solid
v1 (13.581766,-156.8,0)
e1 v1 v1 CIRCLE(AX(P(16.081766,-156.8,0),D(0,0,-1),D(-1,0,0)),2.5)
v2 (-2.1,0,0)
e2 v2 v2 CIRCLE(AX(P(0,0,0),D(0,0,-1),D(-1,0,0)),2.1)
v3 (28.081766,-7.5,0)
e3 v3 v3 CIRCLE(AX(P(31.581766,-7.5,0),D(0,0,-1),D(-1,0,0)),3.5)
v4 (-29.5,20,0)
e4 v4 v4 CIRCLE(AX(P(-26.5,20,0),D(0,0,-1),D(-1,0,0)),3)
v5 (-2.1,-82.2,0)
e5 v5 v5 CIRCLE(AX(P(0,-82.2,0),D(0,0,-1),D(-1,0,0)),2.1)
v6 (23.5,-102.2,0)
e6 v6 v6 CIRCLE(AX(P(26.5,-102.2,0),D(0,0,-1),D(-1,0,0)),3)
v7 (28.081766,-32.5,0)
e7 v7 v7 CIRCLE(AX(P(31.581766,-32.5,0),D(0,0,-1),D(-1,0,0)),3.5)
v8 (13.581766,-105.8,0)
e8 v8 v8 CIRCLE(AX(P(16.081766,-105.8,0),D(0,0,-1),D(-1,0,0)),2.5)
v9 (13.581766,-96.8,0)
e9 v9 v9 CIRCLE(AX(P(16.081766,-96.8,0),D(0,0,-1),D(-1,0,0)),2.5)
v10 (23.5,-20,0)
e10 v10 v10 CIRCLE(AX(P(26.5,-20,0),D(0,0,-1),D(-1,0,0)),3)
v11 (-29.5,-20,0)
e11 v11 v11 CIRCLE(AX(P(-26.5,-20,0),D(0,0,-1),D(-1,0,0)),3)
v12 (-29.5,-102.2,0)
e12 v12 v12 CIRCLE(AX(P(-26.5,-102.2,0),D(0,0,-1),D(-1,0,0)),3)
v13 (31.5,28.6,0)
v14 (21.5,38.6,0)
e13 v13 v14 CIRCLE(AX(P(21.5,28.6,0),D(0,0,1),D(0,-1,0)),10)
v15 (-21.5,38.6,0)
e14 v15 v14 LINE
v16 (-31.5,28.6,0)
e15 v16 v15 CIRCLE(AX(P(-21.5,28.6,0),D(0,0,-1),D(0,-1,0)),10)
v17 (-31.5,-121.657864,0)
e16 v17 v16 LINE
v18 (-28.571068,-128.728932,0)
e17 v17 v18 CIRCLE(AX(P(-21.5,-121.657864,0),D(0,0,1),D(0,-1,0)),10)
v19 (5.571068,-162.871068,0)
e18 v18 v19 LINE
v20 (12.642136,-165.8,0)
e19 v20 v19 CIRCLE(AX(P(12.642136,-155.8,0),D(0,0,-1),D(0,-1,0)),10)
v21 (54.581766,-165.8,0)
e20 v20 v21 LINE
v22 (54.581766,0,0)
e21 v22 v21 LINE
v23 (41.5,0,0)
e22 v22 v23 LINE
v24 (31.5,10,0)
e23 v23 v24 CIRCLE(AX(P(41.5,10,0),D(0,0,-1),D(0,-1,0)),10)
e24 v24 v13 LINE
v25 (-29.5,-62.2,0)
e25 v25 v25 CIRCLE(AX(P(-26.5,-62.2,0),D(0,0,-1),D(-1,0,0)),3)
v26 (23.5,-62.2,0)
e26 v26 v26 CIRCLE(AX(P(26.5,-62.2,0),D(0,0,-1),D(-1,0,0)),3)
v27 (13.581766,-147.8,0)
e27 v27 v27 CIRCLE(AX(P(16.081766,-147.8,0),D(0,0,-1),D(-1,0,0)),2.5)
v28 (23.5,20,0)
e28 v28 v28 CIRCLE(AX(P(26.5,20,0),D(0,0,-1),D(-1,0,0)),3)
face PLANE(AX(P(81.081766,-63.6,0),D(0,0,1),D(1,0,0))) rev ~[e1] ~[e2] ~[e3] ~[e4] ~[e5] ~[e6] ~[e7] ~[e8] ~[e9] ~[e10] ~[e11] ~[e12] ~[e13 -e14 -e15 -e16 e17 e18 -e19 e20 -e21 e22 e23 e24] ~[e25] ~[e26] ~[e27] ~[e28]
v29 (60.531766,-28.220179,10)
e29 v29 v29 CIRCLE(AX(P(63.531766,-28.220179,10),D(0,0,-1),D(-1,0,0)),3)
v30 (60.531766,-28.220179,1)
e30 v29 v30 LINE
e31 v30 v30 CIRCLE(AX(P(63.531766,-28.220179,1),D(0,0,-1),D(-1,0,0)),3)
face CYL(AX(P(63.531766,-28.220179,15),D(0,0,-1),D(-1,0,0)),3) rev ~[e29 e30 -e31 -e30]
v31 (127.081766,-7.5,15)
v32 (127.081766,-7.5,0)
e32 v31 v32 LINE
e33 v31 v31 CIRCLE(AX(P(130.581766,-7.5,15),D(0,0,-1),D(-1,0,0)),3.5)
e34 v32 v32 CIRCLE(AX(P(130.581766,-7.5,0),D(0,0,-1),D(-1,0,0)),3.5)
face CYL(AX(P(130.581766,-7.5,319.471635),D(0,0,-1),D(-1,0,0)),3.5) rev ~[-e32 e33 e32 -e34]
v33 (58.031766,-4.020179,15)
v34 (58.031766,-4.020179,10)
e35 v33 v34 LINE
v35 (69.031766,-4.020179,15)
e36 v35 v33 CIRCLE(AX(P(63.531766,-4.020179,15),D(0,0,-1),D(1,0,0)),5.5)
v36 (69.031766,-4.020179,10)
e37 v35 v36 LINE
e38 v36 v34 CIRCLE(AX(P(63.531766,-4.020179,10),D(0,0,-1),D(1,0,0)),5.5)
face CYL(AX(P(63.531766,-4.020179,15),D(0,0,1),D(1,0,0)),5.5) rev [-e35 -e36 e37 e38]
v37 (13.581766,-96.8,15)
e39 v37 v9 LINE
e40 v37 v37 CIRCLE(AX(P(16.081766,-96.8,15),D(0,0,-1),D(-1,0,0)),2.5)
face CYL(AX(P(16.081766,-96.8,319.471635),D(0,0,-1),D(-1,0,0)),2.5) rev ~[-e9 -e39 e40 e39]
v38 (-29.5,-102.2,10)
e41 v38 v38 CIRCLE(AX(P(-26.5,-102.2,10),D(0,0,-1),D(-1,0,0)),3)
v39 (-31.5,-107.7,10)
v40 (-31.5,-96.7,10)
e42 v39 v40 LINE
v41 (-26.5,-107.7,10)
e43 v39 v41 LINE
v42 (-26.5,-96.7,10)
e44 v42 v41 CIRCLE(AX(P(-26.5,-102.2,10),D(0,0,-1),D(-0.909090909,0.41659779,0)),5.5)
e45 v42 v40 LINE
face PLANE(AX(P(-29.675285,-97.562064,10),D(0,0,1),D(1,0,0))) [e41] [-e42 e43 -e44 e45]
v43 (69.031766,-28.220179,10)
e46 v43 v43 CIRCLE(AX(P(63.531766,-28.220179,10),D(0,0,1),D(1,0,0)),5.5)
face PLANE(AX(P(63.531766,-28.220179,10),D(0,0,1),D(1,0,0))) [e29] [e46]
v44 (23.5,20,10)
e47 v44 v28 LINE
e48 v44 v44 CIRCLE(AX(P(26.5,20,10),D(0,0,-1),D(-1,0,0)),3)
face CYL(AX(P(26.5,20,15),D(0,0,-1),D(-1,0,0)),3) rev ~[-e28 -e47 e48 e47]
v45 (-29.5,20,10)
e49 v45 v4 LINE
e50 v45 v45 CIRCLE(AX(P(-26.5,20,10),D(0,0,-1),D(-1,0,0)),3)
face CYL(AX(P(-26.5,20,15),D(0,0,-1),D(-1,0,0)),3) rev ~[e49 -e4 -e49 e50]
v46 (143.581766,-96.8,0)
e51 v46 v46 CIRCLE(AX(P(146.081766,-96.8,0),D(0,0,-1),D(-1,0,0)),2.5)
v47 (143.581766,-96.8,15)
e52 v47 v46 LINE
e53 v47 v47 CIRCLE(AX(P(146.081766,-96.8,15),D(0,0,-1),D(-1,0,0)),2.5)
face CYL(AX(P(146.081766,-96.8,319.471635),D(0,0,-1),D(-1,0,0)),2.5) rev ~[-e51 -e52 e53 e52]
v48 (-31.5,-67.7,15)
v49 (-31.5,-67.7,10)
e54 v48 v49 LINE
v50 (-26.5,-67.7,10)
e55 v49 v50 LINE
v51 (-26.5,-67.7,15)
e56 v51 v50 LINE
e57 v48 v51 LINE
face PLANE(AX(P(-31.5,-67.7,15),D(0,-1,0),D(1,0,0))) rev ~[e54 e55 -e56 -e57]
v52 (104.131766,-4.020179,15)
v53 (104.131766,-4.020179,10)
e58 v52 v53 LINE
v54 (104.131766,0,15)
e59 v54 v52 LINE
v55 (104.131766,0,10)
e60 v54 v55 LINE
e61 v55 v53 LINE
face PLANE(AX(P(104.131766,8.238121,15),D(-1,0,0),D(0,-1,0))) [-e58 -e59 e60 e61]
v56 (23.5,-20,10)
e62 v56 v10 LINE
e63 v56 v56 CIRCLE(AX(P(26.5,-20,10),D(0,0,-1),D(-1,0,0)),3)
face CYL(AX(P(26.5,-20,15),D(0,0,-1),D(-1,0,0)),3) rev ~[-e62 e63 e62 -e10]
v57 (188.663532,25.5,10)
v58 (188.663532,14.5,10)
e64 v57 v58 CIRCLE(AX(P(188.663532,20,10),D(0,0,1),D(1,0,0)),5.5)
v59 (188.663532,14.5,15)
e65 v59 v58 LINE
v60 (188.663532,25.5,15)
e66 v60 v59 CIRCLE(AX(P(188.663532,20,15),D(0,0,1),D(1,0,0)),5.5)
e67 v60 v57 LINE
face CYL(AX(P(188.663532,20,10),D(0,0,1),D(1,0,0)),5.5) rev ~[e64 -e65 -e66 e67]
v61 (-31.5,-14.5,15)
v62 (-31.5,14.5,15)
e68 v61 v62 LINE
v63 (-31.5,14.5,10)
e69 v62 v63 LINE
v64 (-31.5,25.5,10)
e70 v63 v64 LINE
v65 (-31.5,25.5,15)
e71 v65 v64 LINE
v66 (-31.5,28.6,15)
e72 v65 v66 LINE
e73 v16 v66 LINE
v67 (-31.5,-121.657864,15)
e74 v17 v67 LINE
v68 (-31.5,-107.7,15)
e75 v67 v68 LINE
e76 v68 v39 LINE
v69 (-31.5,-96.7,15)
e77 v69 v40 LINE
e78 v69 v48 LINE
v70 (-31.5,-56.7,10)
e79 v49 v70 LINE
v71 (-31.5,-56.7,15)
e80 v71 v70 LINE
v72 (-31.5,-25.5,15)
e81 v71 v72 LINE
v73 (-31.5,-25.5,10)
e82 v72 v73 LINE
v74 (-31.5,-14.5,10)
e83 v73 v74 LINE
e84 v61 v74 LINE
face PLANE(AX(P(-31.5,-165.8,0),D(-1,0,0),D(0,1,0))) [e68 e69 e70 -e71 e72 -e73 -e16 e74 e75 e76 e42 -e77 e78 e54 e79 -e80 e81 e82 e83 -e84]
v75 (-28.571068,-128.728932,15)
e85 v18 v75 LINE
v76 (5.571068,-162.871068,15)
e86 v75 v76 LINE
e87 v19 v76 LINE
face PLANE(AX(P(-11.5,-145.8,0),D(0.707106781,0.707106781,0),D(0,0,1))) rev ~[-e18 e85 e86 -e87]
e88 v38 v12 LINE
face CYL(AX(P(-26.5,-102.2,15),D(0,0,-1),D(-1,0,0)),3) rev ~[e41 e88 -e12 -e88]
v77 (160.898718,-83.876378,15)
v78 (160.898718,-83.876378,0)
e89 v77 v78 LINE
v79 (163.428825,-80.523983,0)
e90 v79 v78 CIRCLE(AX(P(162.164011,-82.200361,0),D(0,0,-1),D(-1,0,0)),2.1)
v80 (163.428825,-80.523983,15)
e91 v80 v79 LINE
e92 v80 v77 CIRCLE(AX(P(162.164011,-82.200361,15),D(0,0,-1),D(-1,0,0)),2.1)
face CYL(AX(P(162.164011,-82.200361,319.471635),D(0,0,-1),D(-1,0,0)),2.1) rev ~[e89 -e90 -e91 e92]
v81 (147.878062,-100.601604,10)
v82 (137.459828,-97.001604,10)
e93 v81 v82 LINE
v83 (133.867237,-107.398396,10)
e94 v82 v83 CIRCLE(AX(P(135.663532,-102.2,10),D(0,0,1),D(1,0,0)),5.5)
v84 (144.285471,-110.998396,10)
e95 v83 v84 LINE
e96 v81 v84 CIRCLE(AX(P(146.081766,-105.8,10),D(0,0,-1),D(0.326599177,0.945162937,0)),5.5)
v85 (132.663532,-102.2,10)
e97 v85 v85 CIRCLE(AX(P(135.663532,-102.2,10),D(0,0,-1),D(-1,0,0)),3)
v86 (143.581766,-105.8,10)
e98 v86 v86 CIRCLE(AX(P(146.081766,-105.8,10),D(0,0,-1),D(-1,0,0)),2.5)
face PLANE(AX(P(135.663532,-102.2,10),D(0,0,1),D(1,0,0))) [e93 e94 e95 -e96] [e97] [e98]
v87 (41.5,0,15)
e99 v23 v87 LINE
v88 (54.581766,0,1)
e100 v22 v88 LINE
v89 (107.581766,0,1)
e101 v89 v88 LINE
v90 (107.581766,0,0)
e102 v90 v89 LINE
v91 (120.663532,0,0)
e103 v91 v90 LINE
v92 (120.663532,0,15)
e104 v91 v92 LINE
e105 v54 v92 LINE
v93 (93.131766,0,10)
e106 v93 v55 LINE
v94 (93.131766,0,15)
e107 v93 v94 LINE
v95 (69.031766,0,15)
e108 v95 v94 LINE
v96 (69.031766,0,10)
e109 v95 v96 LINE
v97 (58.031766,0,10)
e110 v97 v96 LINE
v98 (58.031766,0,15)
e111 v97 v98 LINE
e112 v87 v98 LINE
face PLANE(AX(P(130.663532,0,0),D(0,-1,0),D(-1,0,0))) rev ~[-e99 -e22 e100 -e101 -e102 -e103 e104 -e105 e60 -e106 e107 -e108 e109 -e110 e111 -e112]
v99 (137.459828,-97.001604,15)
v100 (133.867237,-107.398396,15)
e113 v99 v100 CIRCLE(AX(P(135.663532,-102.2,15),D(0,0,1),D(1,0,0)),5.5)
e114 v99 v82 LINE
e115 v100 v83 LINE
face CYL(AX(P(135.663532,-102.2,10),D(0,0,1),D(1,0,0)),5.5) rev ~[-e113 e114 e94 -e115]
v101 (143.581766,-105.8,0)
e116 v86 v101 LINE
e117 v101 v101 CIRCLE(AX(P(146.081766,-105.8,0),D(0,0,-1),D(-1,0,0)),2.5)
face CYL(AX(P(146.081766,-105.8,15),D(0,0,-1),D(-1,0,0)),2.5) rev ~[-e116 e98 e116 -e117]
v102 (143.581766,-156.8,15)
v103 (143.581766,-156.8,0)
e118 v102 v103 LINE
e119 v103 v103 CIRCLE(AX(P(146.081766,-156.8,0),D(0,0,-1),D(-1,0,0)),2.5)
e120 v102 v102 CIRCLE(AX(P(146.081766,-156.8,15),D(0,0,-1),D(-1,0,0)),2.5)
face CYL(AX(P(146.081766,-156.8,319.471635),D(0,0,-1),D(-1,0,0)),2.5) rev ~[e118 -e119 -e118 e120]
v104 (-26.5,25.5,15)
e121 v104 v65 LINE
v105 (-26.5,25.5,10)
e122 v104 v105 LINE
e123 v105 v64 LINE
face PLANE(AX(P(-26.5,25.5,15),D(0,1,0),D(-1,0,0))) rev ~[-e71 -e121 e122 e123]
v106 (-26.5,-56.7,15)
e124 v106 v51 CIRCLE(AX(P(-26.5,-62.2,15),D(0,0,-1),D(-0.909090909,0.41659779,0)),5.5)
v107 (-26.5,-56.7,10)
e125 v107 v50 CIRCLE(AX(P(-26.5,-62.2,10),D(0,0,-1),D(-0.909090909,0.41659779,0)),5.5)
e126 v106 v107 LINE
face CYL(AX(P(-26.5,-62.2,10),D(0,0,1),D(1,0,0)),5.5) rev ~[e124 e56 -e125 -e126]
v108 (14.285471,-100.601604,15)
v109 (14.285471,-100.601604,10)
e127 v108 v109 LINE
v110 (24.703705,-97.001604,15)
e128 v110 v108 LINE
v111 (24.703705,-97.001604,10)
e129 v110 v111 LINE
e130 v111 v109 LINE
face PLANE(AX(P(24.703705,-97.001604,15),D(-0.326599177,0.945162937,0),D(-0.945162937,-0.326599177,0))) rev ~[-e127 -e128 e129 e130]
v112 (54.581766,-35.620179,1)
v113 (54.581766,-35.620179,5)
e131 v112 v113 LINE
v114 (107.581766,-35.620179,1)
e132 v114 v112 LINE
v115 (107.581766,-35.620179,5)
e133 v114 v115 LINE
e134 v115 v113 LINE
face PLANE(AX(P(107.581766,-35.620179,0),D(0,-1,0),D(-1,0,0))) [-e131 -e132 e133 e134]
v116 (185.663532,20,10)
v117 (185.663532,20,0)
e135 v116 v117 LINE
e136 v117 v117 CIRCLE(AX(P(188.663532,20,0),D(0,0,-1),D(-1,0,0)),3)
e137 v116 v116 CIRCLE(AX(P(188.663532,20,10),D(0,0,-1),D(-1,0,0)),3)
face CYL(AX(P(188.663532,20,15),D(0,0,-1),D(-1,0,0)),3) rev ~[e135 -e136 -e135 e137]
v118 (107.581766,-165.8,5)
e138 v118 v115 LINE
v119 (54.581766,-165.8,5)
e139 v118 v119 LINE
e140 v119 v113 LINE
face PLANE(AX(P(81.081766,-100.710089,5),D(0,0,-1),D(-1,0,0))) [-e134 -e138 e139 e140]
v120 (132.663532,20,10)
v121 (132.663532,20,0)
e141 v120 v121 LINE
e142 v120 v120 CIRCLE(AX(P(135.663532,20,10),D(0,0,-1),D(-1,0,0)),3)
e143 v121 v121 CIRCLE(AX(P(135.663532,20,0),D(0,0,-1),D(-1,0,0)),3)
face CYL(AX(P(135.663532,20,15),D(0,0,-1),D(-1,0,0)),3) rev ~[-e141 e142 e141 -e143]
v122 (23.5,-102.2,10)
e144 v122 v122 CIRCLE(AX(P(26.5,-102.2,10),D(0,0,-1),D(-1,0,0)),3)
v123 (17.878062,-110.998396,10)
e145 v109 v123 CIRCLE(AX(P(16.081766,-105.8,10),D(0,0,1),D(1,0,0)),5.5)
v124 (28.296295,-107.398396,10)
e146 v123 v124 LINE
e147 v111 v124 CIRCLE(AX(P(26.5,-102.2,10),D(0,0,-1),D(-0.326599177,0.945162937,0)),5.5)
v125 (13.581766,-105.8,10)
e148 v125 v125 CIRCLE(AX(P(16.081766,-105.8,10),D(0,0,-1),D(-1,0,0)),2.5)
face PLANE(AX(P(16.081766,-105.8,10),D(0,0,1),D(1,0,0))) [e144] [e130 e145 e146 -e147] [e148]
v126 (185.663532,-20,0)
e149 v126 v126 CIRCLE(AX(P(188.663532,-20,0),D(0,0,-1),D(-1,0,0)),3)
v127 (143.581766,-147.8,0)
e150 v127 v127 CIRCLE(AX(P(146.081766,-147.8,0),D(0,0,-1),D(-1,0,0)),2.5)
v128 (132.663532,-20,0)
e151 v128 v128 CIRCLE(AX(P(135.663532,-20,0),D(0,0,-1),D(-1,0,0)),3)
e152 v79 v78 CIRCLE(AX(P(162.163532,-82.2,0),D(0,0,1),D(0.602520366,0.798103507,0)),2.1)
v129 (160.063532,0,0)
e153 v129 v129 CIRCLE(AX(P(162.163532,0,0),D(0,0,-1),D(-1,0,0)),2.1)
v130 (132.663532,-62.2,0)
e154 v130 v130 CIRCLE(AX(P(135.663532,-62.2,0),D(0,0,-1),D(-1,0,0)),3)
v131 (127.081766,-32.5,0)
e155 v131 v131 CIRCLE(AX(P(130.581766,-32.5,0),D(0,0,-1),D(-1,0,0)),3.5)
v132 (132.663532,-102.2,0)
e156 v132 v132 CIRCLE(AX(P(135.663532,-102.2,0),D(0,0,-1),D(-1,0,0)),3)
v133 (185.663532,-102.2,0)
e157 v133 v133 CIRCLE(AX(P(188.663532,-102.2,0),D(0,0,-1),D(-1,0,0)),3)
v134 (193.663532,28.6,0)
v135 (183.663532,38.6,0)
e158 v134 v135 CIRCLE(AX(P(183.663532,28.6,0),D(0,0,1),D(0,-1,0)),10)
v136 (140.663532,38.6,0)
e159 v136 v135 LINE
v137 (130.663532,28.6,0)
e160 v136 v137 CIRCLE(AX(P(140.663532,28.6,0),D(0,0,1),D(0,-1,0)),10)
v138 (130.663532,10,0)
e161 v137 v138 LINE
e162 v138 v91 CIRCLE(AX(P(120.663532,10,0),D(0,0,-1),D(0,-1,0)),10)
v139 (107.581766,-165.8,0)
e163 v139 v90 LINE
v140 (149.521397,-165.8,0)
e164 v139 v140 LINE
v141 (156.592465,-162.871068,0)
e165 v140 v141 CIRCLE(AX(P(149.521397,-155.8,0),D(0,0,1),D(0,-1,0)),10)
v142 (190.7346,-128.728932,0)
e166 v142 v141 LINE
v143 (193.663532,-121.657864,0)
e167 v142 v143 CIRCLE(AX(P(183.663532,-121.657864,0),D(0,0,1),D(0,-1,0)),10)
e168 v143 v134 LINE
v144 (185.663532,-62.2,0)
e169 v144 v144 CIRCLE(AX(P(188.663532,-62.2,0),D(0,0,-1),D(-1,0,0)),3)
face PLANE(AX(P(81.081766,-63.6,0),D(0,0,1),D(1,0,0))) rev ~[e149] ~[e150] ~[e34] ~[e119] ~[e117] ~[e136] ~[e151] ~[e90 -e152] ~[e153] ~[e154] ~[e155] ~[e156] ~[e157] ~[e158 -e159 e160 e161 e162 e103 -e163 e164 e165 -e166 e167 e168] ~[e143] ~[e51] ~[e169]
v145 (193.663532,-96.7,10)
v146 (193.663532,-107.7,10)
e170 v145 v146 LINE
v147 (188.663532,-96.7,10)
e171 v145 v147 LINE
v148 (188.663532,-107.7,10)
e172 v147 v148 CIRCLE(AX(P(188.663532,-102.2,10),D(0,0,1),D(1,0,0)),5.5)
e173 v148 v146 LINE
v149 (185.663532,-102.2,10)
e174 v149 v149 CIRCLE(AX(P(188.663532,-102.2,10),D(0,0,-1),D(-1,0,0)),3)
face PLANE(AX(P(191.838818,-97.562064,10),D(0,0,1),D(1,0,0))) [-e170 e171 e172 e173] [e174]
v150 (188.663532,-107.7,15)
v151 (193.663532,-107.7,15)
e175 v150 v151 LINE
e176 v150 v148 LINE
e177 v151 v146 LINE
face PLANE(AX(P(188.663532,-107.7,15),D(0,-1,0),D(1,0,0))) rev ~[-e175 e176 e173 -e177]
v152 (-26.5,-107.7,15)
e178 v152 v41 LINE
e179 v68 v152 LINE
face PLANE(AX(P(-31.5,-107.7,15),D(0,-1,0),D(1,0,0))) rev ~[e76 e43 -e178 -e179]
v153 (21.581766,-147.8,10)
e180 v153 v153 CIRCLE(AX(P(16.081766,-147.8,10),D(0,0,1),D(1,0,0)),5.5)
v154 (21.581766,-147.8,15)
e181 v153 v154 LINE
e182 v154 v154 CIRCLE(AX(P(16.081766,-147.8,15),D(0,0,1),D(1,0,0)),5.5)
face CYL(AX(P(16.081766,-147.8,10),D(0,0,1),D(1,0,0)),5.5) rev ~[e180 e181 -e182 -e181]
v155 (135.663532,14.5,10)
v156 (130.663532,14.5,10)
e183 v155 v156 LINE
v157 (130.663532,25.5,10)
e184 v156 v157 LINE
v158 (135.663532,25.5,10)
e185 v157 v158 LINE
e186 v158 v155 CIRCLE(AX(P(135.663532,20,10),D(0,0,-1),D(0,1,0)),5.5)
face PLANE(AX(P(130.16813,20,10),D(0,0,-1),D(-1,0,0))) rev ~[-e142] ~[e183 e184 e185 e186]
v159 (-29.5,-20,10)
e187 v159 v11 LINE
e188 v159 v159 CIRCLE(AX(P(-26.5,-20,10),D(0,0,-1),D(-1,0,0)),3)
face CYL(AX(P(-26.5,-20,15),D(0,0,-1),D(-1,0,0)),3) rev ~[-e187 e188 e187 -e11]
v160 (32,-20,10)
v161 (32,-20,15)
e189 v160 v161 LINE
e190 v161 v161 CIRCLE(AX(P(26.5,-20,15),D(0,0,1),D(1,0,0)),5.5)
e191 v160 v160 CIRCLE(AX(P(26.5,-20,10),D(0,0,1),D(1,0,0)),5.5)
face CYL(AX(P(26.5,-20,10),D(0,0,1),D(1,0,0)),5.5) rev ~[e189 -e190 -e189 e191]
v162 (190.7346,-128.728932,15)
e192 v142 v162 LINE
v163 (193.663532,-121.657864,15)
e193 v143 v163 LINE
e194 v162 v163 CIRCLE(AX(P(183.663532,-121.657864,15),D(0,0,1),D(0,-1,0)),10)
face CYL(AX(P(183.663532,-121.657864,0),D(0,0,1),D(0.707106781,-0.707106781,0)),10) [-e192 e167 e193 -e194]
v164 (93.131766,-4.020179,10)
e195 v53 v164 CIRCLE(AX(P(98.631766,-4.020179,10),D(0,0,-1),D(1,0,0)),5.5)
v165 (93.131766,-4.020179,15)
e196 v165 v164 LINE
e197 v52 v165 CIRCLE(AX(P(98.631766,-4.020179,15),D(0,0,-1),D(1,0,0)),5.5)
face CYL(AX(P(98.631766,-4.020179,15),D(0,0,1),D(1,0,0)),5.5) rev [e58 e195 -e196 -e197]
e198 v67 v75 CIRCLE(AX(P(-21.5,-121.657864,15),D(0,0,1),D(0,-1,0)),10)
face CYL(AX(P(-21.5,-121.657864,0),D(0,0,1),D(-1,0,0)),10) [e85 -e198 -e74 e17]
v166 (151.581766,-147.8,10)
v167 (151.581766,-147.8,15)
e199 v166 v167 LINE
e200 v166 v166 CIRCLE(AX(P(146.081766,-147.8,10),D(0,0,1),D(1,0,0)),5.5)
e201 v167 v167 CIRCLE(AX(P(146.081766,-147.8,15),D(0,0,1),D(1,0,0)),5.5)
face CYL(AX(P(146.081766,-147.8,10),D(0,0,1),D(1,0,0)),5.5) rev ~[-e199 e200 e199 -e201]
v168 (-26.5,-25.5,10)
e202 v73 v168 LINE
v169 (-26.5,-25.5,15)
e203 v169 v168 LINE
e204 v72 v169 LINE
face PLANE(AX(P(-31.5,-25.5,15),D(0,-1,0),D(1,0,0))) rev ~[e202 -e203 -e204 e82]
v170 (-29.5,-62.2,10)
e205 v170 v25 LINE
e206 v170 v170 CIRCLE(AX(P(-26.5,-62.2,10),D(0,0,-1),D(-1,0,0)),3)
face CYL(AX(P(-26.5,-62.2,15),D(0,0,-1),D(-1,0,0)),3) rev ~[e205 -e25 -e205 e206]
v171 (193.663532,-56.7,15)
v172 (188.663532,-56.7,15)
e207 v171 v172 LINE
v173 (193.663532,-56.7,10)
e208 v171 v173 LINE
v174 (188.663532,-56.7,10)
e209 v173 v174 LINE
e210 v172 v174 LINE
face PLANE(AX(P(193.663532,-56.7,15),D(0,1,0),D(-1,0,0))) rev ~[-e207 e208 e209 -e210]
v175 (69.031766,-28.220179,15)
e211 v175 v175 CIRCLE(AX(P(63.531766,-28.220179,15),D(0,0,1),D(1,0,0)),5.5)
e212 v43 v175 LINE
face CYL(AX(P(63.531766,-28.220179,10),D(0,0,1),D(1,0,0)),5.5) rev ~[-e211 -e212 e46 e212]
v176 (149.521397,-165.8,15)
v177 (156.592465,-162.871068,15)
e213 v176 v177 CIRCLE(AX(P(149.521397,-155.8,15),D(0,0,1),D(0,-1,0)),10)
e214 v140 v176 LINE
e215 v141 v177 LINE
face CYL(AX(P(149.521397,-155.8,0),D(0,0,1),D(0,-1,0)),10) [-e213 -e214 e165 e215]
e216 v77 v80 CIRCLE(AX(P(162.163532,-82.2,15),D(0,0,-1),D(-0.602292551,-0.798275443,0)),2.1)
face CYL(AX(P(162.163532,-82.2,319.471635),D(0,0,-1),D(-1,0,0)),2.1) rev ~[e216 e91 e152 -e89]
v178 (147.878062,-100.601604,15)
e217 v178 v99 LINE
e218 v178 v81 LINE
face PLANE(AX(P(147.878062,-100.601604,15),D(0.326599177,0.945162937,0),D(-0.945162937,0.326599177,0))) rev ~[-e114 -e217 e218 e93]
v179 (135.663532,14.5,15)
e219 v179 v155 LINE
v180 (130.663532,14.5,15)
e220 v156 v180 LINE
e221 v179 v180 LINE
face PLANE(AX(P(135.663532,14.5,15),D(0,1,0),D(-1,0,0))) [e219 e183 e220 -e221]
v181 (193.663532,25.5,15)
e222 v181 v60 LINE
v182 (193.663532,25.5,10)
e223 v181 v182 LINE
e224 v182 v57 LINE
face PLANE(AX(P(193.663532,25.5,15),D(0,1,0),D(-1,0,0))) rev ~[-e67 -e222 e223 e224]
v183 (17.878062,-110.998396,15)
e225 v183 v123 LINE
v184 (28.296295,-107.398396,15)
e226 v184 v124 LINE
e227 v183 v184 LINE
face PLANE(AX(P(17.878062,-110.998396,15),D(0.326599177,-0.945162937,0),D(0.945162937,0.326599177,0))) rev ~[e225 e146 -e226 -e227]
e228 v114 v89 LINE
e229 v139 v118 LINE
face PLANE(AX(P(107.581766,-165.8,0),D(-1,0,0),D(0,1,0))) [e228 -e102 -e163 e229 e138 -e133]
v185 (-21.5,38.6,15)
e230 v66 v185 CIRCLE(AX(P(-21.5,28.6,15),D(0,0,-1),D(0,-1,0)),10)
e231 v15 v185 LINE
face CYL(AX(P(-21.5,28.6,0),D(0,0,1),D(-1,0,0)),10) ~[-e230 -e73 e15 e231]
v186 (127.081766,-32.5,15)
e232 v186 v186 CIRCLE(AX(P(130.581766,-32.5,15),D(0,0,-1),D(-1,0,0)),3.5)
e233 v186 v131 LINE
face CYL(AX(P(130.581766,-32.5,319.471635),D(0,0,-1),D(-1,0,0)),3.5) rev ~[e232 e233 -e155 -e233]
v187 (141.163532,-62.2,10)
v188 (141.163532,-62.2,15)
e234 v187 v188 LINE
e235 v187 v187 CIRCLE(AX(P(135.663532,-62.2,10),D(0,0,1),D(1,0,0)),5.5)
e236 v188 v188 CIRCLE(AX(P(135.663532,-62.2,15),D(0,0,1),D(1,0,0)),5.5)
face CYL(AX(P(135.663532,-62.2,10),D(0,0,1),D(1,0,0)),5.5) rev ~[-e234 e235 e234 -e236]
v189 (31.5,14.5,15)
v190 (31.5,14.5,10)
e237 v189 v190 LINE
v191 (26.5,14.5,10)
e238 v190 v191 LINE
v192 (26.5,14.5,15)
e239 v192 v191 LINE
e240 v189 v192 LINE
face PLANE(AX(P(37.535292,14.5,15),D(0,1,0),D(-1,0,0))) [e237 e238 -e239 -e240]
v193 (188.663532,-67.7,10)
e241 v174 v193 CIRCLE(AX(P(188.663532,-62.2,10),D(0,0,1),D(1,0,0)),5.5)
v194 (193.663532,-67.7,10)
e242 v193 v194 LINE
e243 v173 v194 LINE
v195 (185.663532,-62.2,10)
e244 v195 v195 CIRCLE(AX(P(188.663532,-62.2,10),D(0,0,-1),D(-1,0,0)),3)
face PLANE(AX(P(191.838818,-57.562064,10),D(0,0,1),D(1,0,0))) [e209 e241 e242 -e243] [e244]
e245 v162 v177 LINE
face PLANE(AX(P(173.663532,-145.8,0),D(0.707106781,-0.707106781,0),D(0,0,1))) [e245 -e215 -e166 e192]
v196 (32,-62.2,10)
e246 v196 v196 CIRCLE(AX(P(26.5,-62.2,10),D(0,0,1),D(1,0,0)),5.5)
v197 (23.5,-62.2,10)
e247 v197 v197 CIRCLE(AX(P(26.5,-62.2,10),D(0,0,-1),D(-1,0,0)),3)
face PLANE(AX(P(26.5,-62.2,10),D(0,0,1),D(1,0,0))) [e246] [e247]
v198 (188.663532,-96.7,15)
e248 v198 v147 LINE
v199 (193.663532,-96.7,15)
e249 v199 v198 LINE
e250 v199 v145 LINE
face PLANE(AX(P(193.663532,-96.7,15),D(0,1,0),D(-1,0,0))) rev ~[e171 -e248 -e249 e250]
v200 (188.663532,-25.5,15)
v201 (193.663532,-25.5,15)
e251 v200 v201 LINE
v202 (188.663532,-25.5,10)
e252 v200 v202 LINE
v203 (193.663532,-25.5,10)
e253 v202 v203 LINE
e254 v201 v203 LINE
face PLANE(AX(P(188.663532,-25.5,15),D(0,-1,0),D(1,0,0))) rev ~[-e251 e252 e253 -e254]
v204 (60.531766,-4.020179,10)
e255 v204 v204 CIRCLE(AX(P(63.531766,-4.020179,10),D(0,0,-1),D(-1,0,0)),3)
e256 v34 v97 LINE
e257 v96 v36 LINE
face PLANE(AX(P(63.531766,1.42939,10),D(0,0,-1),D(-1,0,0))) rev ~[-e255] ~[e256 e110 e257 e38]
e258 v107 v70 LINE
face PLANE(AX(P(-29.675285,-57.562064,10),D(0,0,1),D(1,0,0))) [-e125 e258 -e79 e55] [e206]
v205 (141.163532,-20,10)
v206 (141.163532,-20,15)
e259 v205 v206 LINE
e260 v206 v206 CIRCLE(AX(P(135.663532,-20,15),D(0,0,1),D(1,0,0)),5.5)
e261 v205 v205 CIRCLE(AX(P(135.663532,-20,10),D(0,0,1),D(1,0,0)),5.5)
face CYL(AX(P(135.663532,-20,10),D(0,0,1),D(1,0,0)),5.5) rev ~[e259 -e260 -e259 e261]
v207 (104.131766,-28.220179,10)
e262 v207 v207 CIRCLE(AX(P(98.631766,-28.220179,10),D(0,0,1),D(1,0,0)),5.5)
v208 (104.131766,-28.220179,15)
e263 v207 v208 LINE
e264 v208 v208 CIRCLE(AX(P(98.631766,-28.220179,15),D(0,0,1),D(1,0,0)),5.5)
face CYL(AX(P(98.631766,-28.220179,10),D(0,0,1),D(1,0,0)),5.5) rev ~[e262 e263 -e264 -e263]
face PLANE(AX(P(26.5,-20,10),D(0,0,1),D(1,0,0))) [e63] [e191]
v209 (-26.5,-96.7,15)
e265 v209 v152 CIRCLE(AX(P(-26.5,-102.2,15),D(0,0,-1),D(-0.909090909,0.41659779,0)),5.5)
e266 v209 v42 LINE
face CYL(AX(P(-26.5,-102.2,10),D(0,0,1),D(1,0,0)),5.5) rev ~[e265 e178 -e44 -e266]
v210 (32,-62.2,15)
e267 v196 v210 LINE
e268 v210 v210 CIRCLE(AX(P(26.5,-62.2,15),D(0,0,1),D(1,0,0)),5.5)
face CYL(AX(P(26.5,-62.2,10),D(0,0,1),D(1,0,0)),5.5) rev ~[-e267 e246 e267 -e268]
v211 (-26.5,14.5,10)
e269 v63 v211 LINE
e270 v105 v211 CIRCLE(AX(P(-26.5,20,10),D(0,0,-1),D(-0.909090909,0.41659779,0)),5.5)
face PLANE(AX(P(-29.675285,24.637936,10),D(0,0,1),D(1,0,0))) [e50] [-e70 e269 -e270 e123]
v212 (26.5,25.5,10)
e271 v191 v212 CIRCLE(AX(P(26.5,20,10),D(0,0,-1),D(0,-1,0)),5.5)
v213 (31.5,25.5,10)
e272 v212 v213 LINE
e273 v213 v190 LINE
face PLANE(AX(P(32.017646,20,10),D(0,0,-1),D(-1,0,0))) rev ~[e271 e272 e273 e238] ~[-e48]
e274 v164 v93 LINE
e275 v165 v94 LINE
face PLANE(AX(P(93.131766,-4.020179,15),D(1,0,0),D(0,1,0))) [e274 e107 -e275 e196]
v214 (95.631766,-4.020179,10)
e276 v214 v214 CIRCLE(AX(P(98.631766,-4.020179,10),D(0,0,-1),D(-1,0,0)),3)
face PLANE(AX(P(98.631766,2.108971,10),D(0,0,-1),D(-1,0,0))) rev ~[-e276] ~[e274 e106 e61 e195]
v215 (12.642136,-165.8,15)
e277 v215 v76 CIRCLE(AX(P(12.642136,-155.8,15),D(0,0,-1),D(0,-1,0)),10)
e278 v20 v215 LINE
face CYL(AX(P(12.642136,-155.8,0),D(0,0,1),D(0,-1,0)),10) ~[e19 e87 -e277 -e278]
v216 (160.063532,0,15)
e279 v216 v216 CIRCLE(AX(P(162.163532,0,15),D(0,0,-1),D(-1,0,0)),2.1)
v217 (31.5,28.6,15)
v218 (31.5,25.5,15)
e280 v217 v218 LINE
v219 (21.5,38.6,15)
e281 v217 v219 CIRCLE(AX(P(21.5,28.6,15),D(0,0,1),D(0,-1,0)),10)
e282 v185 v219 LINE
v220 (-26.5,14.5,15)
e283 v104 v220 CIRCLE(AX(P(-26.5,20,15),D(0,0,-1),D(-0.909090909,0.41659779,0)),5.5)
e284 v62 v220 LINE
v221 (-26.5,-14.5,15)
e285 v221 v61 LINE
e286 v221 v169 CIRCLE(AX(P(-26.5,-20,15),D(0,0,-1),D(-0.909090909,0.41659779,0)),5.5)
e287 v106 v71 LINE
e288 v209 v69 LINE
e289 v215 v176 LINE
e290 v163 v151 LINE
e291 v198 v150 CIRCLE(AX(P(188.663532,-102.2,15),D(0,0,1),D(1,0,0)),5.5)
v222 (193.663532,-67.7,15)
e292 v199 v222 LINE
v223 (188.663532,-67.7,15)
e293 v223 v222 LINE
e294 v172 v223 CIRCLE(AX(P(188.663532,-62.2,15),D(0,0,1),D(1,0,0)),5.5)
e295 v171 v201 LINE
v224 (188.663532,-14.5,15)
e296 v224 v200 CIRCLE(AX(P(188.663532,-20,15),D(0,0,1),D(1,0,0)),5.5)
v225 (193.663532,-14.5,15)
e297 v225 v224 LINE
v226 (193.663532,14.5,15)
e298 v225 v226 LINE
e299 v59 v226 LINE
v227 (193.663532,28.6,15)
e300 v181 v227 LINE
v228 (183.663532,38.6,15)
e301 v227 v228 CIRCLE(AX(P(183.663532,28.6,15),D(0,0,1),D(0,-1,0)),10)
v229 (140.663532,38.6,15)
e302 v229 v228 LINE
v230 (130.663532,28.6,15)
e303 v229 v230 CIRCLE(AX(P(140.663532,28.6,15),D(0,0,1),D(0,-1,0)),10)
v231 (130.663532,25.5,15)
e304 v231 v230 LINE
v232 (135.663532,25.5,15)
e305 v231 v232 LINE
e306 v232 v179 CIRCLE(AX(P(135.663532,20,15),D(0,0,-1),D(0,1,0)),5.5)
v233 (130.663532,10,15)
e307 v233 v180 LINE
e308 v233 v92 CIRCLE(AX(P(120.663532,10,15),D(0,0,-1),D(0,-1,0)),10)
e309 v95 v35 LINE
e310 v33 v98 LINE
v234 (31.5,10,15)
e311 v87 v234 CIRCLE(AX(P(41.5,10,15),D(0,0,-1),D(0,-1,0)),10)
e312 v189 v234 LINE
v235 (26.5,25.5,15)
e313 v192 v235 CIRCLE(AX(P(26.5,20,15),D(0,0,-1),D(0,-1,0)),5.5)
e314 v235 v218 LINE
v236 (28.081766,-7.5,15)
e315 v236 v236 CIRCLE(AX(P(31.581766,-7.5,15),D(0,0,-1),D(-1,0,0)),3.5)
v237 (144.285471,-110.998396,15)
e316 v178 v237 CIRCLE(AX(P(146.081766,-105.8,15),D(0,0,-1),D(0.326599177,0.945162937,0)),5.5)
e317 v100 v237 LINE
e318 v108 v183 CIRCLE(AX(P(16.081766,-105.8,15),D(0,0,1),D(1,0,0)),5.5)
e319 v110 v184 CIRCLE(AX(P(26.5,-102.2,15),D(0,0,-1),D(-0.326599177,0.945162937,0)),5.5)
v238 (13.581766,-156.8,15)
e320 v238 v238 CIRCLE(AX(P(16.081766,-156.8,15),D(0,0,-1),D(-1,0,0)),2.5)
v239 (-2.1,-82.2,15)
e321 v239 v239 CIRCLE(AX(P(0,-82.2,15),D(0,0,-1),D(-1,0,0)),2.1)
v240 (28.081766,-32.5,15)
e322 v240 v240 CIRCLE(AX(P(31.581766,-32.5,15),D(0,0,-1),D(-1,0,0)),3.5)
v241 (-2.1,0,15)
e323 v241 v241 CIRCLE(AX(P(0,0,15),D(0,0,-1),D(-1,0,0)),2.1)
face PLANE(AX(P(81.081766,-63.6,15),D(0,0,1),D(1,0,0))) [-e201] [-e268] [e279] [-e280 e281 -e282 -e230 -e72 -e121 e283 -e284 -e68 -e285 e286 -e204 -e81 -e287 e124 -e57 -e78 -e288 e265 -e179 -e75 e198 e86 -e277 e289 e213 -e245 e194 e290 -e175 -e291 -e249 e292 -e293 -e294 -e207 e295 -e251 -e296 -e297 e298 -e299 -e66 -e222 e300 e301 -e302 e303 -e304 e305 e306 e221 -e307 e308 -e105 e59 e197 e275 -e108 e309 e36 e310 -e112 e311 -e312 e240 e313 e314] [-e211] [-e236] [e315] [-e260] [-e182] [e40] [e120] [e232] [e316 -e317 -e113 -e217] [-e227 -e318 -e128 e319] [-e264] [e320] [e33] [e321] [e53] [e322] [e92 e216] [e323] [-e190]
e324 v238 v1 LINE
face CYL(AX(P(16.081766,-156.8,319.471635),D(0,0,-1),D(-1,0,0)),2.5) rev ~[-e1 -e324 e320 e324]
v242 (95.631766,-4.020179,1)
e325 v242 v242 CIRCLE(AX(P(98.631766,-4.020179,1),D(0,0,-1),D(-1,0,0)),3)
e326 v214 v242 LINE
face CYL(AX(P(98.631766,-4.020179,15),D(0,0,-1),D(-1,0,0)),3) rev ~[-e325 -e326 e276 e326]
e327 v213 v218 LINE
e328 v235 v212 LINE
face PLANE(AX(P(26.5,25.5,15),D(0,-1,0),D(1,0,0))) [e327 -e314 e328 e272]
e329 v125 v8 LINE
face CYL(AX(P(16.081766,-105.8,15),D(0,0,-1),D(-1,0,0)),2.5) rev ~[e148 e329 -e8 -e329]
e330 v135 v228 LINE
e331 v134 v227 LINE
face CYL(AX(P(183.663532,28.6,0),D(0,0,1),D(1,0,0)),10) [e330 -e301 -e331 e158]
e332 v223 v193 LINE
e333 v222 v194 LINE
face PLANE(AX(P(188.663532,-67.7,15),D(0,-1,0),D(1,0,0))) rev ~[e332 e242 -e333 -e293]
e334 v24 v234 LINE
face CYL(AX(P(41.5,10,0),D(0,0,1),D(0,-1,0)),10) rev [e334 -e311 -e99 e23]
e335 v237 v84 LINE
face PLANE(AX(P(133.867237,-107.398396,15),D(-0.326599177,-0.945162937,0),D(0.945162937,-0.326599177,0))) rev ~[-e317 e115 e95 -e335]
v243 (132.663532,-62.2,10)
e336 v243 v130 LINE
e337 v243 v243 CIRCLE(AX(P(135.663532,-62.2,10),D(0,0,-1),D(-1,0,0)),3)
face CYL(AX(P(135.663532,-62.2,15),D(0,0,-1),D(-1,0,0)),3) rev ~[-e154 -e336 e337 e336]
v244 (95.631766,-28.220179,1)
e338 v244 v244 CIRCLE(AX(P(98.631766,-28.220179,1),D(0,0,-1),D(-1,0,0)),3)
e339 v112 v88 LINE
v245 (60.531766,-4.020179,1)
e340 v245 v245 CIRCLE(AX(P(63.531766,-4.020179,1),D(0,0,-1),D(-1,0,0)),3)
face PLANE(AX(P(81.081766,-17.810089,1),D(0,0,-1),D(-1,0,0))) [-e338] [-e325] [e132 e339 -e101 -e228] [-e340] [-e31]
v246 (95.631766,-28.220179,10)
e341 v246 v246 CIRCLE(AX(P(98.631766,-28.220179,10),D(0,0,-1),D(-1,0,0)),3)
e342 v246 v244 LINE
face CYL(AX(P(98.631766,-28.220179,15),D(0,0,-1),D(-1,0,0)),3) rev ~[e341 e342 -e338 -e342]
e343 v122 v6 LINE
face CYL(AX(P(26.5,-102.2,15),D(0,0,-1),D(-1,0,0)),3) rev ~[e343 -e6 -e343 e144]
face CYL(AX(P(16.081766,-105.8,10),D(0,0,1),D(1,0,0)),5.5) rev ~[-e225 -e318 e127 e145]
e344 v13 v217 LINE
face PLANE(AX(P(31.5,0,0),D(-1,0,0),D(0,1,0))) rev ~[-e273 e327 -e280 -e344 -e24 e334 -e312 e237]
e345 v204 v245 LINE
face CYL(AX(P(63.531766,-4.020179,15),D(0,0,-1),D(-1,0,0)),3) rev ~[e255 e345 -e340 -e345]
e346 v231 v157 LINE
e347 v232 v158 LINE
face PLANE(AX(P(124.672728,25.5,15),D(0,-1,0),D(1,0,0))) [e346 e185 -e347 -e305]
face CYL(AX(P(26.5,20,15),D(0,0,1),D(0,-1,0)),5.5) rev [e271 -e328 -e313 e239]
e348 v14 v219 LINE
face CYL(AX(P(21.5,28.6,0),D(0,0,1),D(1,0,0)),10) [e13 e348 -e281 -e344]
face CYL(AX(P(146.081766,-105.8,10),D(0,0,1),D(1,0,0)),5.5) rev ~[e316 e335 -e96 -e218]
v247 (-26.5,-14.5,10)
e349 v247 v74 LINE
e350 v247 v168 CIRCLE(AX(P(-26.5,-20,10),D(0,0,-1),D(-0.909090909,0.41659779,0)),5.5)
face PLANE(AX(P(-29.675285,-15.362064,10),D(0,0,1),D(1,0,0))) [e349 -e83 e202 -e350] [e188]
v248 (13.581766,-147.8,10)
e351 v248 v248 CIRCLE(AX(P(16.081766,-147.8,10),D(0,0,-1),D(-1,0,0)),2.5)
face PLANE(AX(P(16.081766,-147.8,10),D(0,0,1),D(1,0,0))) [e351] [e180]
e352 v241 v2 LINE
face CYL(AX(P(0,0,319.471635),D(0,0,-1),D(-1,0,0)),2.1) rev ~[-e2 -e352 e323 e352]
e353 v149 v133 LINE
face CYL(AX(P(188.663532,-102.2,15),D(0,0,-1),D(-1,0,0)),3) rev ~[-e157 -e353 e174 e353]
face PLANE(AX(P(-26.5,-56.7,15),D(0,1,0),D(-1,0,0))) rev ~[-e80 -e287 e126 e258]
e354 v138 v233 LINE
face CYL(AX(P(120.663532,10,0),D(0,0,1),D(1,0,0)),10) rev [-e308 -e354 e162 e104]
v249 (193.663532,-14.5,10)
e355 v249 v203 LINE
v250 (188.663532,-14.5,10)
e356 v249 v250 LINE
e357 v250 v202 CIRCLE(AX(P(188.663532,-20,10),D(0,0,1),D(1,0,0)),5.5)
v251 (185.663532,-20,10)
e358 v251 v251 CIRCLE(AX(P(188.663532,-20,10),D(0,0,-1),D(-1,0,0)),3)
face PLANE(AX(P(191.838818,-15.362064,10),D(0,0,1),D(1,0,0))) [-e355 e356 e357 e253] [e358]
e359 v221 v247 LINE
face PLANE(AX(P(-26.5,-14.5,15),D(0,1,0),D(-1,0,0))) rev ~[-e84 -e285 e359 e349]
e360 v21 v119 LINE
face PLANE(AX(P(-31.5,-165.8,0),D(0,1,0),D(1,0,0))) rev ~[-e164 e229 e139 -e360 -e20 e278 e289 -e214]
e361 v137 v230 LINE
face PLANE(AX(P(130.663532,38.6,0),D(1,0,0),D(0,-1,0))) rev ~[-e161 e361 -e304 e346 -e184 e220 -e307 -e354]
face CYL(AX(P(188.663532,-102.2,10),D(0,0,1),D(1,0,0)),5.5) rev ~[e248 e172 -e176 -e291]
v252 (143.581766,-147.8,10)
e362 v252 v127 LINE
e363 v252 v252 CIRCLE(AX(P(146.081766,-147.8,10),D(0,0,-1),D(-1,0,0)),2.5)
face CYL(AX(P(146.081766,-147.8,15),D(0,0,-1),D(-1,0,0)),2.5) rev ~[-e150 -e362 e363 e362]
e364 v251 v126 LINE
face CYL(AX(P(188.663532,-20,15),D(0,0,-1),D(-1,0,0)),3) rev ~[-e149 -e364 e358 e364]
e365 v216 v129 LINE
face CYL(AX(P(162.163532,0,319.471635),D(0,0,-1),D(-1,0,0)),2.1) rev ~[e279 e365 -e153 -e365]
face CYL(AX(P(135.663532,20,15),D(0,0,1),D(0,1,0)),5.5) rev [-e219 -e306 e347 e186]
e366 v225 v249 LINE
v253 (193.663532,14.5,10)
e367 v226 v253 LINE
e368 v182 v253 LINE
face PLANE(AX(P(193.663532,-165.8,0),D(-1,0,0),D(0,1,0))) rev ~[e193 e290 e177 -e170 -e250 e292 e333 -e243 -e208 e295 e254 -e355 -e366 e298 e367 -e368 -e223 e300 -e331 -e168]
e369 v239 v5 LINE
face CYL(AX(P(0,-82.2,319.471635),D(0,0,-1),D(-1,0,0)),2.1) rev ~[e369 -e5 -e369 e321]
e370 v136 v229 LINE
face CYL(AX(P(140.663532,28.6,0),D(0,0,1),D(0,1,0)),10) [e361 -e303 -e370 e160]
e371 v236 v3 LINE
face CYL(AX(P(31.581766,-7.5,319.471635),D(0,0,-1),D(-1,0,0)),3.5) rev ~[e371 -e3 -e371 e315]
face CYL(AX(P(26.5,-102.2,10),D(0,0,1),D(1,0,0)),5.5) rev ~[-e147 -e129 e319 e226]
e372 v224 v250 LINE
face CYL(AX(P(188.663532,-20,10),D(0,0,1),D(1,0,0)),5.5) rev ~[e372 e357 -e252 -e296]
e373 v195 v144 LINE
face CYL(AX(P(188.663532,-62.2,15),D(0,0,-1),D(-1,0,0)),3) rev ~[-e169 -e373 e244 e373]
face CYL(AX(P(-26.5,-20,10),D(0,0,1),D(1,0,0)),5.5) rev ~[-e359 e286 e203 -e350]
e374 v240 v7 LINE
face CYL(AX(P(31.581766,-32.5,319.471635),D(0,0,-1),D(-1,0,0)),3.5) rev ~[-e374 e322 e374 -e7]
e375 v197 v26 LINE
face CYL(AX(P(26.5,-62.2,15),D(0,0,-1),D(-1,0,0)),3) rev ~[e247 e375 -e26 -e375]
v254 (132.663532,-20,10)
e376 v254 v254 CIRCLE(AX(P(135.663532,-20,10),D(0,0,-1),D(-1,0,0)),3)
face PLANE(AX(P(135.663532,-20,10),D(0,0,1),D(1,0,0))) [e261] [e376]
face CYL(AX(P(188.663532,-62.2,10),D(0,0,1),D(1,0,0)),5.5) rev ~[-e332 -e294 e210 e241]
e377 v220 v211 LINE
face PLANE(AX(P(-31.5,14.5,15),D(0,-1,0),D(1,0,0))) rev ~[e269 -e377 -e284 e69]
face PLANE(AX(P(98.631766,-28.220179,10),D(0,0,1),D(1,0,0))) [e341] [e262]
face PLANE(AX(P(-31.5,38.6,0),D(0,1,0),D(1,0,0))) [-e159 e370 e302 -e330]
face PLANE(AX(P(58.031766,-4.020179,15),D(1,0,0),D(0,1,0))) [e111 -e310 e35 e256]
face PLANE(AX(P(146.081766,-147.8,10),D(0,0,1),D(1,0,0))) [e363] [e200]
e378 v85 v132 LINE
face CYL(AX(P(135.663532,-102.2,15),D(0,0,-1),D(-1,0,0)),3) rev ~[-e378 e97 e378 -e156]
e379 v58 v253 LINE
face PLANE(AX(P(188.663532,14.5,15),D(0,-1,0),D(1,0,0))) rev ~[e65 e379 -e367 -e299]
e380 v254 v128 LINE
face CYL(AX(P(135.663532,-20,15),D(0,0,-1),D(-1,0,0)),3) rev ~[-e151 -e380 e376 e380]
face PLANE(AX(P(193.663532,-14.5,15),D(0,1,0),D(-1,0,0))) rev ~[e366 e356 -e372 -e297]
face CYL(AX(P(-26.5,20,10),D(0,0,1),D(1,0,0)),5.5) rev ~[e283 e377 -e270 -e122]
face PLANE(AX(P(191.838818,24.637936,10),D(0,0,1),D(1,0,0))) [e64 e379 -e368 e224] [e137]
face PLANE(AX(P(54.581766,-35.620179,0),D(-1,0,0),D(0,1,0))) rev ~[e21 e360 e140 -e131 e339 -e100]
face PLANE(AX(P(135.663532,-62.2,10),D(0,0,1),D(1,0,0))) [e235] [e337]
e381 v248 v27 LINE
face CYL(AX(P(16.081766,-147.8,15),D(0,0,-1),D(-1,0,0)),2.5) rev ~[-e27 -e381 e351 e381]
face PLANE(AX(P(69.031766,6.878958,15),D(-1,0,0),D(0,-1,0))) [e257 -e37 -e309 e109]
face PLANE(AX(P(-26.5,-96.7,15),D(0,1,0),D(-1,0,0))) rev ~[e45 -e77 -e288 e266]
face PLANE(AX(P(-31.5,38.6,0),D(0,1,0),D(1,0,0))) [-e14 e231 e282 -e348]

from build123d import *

# Parameters (mm, degrees)
SKETCH1_W                       = 225.16353247
SKETCH1_H                       = 204.4
BOSS_EXTRUDE1_DEPTH             = 15
HOLE1_D                         = 6
HOLE1_CBORE_D                   = 11
HOLE1_CBORE_DEPTH               = 5
M5X0_8_TAPPED_HOLE1_D           = 4.2
M5X0_8_TAPPED_HOLE1_ON_FACE_2_D = 4.2
CUT_EXTRUDE1_DEPTH              = 5
M6X1_0_TAPPED_HOLE1_D           = 5
HOLE2_D                         = 5
HOLE2_CBORE_D                   = 11
HOLE2_CBORE_DEPTH               = 5
CUT_EXTRUDE2_DEPTH              = 5
CHAMFER1_SIZE                   = 40
SKETCH16_W                      = 53
SKETCH16_H                      = 35.620178703
SKETCH16_H_2                    = 37.110089351
CUT_EXTRUDE3_DEPTH              = 1
SKETCH16_3_W                    = 53
SKETCH16_3_H                    = 130.179821297
CUT_EXTRUDE4_DEPTH              = 5
CUT_EXTRUDE5_DEPTH              = 256.382465743
CUT_EXTRUDE6_DEPTH              = 5
FILLET1_R                       = 10
OLDSPINDLEMOUNTM8HOLES_D        = 7


with BuildPart() as part:
    # Sketch1 → Boss-Extrude1 (new body)
    with BuildSketch(Plane.XY):
        with Locations((81.081766235, -63.6)):
            Rectangle(SKETCH1_W, SKETCH1_H)
    extrude(amount=BOSS_EXTRUDE1_DEPTH)

    # Hole1 (through all)
    with Locations(Plane(origin=(-26.5, 20, 15), x_dir=(1, 0, 0), z_dir=(0, 0, 1))):
        with Locations((0, 0), (53, -40), (53, 0), (0, -40), (53, -82.2), (53, -122.2), (0, -82.2), (0, -122.2), (162.16353247, 0), (162.16353247, -40), (215.16353247, 0), (215.16353247, -82.2), (215.16353247, -40), (162.16353247, -122.2), (162.16353247, -82.2), (215.16353247, -122.2), (90.031766235, -24.020178703), (90.031766235, -48.220178703), (125.131766235, -48.220178703), (125.131766235, -24.020178703)):
            CounterBoreHole(HOLE1_D / 2, HOLE1_CBORE_D / 2, HOLE1_CBORE_DEPTH)

    # M5x0.8 Tapped Hole1 (through all)
    with Locations(Plane(origin=(162.164010883, -82.200361066, 15), x_dir=(1, 0, 0), z_dir=(0, 0, 1))):
        with Locations((0, 0), (-162.164010883, 0.000361066), (-0.000478413, 82.200361066), (-0.000478413, 0.000361066), (-162.164010883, 82.200361066)):
            Hole(M5X0_8_TAPPED_HOLE1_D / 2)

    # M5x0.8 Tapped Hole1 on face 2 (through all)
    with Locations(Plane(origin=(0, 0, 0), x_dir=(-1, 0, 0), z_dir=(0, 0, -1))):
        with Locations((0, 0)):
            Hole(M5X0_8_TAPPED_HOLE1_ON_FACE_2_D / 2)

    # Sketch9 → Cut-Extrude1 (cut)
    with BuildSketch(Plane.XY.offset(15)):
        with BuildLine():
            Line((-31.5, 14.5), (-26.5, 14.5))
            ThreePointArc((-26.5, 14.5), (-29.470514841, 15.371172764), (-31.5, 17.708712153))
            Line((-31.5, 17.708712153), (-31.5, 14.5))
        make_face()
        with BuildLine():
            ThreePointArc((-31.5, 22.291287847), (-29.470514841, 24.628827236), (-26.5, 25.5))
            Line((-26.5, 25.5), (-31.5, 25.5))
            Line((-31.5, 25.5), (-31.5, 22.291287847))
        make_face()
        with BuildLine():
            Line((-26.5, -14.5), (-31.5, -14.5))
            Line((-31.5, -14.5), (-31.5, -17.708712153))
            ThreePointArc((-31.5, -17.708712153), (-29.470514841, -15.371172764), (-26.5, -14.5))
        make_face()
        with BuildLine():
            Line((-31.5, -25.5), (-26.5, -25.5))
            ThreePointArc((-26.5, -25.5), (-29.470514841, -24.628827236), (-31.5, -22.291287847))
            Line((-31.5, -22.291287847), (-31.5, -25.5))
        make_face()
        with BuildLine():
            Line((-26.5, -56.7), (-31.5, -56.7))
            Line((-31.5, -56.7), (-31.5, -59.908712153))
            ThreePointArc((-31.5, -59.908712153), (-29.470514841, -57.571172764), (-26.5, -56.7))
        make_face()
        with BuildLine():
            Line((-31.5, -67.7), (-26.5, -67.7))
            ThreePointArc((-26.5, -67.7), (-29.470514841, -66.828827236), (-31.5, -64.491287847))
            Line((-31.5, -64.491287847), (-31.5, -67.7))
        make_face()
        with BuildLine():
            Line((-26.5, -96.7), (-31.5, -96.7))
            Line((-31.5, -96.7), (-31.5, -99.908712153))
            ThreePointArc((-31.5, -99.908712153), (-29.470514841, -97.571172764), (-26.5, -96.7))
        make_face()
        with BuildLine():
            Line((-31.5, -107.7), (-26.5, -107.7))
            ThreePointArc((-26.5, -107.7), (-29.470514841, -106.828827236), (-31.5, -104.491287847))
            Line((-31.5, -104.491287847), (-31.5, -107.7))
        make_face()
        with BuildLine():
            ThreePointArc((193.66353247, -104.491287847), (191.634047311, -106.828827236), (188.66353247, -107.7))
            Line((188.66353247, -107.7), (193.66353247, -107.7))
            Line((193.66353247, -107.7), (193.66353247, -104.491287847))
        make_face()
        with BuildLine():
            Line((193.66353247, -99.908712153), (193.66353247, -96.7))
            Line((193.66353247, -96.7), (188.66353247, -96.7))
            ThreePointArc((188.66353247, -96.7), (191.634047311, -97.571172764), (193.66353247, -99.908712153))
        make_face()
        with BuildLine():
            ThreePointArc((193.66353247, -64.491287847), (191.634047311, -66.828827236), (188.66353247, -67.7))
            Line((188.66353247, -67.7), (193.66353247, -67.7))
            Line((193.66353247, -67.7), (193.66353247, -64.491287847))
        make_face()
        with BuildLine():
            Line((193.66353247, -59.908712153), (193.66353247, -56.7))
            Line((193.66353247, -56.7), (188.66353247, -56.7))
            ThreePointArc((188.66353247, -56.7), (191.634047311, -57.571172764), (193.66353247, -59.908712153))
        make_face()
        with BuildLine():
            ThreePointArc((193.66353247, -22.291287848), (191.634047311, -24.628827236), (188.66353247, -25.5))
            Line((188.66353247, -25.5), (193.66353247, -25.5))
            Line((193.66353247, -25.5), (193.66353247, -22.291287848))
        make_face()
        with BuildLine():
            Line((193.66353247, -17.708712153), (193.66353247, -14.5))
            Line((193.66353247, -14.5), (188.66353247, -14.5))
            ThreePointArc((188.66353247, -14.5), (191.634047311, -15.371172764), (193.66353247, -17.708712153))
        make_face()
        with BuildLine():
            ThreePointArc((193.66353247, 17.708712152), (191.634047311, 15.371172764), (188.66353247, 14.5))
            Line((188.66353247, 14.5), (193.66353247, 14.5))
            Line((193.66353247, 14.5), (193.66353247, 17.708712152))
        make_face()
        with BuildLine():
            Line((193.66353247, 25.5), (188.66353247, 25.5))
            ThreePointArc((188.66353247, 25.5), (191.634047311, 24.628827236), (193.66353247, 22.291287847))
            Line((193.66353247, 22.291287847), (193.66353247, 25.5))
        make_face()
    extrude(amount=-CUT_EXTRUDE1_DEPTH, mode=Mode.SUBTRACT)

    # M6x1.0 Tapped Hole1 (through all)
    with Locations(Plane(origin=(16.081766235, -96.8, 15), x_dir=(1, 0, 0), z_dir=(0, 0, 1))):
        with Locations((0, 0), (130, 0), (130, -60), (0, -60)):
            Hole(M6X1_0_TAPPED_HOLE1_D / 2)

    # Hole2 (through all)
    with Locations(Plane(origin=(16.081766235, -105.8, 15), x_dir=(1, 0, 0), z_dir=(0, 0, 1))):
        with Locations((0, 0), (0, -42), (130, 0), (130, -42)):
            CounterBoreHole(HOLE2_D / 2, HOLE2_CBORE_D / 2, HOLE2_CBORE_DEPTH)

    # Sketch15 → Cut-Extrude2 (cut)
    with BuildSketch(Plane.XY.offset(15)):
        with BuildLine():
            Line((24.703704526, -97.001603846), (14.285470762, -100.601603846))
            ThreePointArc((14.285470762, -100.601603846), (19.273190282, -101.320623643), (21.581766235, -105.8))
            ThreePointArc((21.581766235, -105.8), (20.561142593, -108.991424047), (17.878061709, -110.998396154))
            Line((17.878061709, -110.998396154), (28.296295473, -107.398396154))
            ThreePointArc((28.296295473, -107.398396154), (21.301603846, -103.996295474), (24.703704526, -97.001603846))
        make_face()
        with BuildLine():
            Line((133.867236997, -107.398396154), (144.285470762, -110.998396154))
            ThreePointArc((144.285470762, -110.998396154), (140.883370081, -104.003704527), (147.878061709, -100.601603846))
            Line((147.878061709, -100.601603846), (137.459827944, -97.001603846))
            ThreePointArc((137.459827944, -97.001603846), (140.142908828, -99.008575953), (141.16353247, -102.2))
            ThreePointArc((141.16353247, -102.2), (138.854956517, -106.679376358), (133.867236997, -107.398396154))
        make_face()
    extrude(amount=-CUT_EXTRUDE2_DEPTH, mode=Mode.SUBTRACT)

    # Chamfer1
    chamfer1_edges = [part.edges().sort_by_distance(p)[0] for p in [
        (193.66353247, -165.8, 7.5),
        (-31.5, -165.8, 7.5),
    ]]
    chamfer(chamfer1_edges, length=CHAMFER1_SIZE)

    # Sketch16 → Cut-Extrude3 (cut)
    with BuildSketch(Plane(origin=(0, 0, 0), x_dir=(-1, 0, 0), z_dir=(0, 0, -1))):
        with Locations((-81.081766235, -17.810089352)):
            Rectangle(SKETCH16_W, SKETCH16_H)
        with Locations((-81.081766235, 20.044955325)):
            Rectangle(SKETCH16_W, SKETCH16_H_2)
    extrude(amount=-CUT_EXTRUDE3_DEPTH, mode=Mode.SUBTRACT)

    # Sketch16<3> → Cut-Extrude4 (cut)
    with BuildSketch(Plane(origin=(0, 0, 0), x_dir=(-1, 0, 0), z_dir=(0, 0, -1))):
        with Locations((-81.081766235, -100.710089352)):
            Rectangle(SKETCH16_3_W, SKETCH16_3_H)
    extrude(amount=-CUT_EXTRUDE4_DEPTH, mode=Mode.SUBTRACT)

    # Sketch16<4> → Cut-Extrude5 (cut, through all)
    with BuildSketch(Plane(origin=(0, 0, 0), x_dir=(-1, 0, 0), z_dir=(0, 0, -1))):
        Polygon((-54.581766235, 1.489910649), (-107.581766235, 1.489910649), (-107.581766235, 38.6), (-130.66353247, 38.6), (-130.66353247, 0), (-31.5, 0), (-31.5, 38.6), (-54.581766235, 38.6), align=None)
    extrude(amount=-CUT_EXTRUDE5_DEPTH, mode=Mode.SUBTRACT)


with BuildPart() as cut_extrude5_kept_piece:
    # of the separate pieces the step leaves, the one the design keeps (cut_extrude5_pieces_kept)
    add(part.part.solids().sort_by_distance((193.66353247, -125.8, 15))[0])

    # Sketch17 → Cut-Extrude6 (cut)
    with BuildSketch(Plane.XY.offset(15)):
        with BuildLine():
            Line((26.5, 25.5), (37.535291554, 25.5))
            ThreePointArc((37.535291554, 25.5), (43.035291554, 20), (37.535291554, 14.5))
            Line((37.535291554, 14.5), (26.5, 14.5))
            ThreePointArc((26.5, 14.5), (21, 20), (26.5, 25.5))
        make_face()
        with BuildLine():
            Line((58.031766235, -4.020178703), (58.031766235, 6.878958383))
            ThreePointArc((58.031766235, 6.878958383), (63.531766235, 12.378958383), (69.031766235, 6.878958383))
            Line((69.031766235, 6.878958383), (69.031766235, -4.020178703))
            ThreePointArc((69.031766235, -4.020178703), (63.531766235, -9.520178703), (58.031766235, -4.020178703))
        make_face()
        with BuildLine():
            Line((93.131766235, -4.020178703), (93.131766235, 8.238121163))
            ThreePointArc((93.131766235, 8.238121163), (98.631766235, 13.738121163), (104.131766235, 8.238121163))
            Line((104.131766235, 8.238121163), (104.131766235, -4.020178703))
            ThreePointArc((104.131766235, -4.020178703), (98.631766235, -9.520178703), (93.131766235, -4.020178703))
        make_face()
        with BuildLine():
            Line((135.66353247, 14.5), (124.67272757, 14.5))
            ThreePointArc((124.67272757, 14.5), (119.17272757, 20), (124.67272757, 25.5))
            Line((124.67272757, 25.5), (135.66353247, 25.5))
            ThreePointArc((135.66353247, 25.5), (141.16353247, 20), (135.66353247, 14.5))
        make_face()
    extrude(amount=-CUT_EXTRUDE6_DEPTH, mode=Mode.SUBTRACT)

    # Fillet1
    fillet1_edges = [cut_extrude5_kept_piece.edges().sort_by_distance(p)[0] for p in [
        (193.66353247, -125.8, 7.5),
        (8.5, -165.8, 7.5),
        (153.66353247, -165.8, 7.5),
        (-31.5, -125.8, 7.5),
        (31.5, 0, 7.5),
        (130.66353247, 38.6, 7.5),
        (31.5, 38.6, 7.5),
        (130.66353247, 0, 7.5),
        (-31.5, 38.6, 7.5),
        (193.66353247, 38.6, 7.5),
    ]]
    fillet(fillet1_edges, radius=FILLET1_R)

    # oldSpindleMountM8holes (through all)
    with Locations(Plane(origin=(31.581766235, -7.5, 15), x_dir=(1, 0, 0), z_dir=(0, 0, 1))):
        with Locations((0, 0), (0, -25), (99, 0), (99, -25)):
            Hole(OLDSPINDLEMOUNTM8HOLES_D / 2)


solid = cut_extrude5_kept_piece.part
